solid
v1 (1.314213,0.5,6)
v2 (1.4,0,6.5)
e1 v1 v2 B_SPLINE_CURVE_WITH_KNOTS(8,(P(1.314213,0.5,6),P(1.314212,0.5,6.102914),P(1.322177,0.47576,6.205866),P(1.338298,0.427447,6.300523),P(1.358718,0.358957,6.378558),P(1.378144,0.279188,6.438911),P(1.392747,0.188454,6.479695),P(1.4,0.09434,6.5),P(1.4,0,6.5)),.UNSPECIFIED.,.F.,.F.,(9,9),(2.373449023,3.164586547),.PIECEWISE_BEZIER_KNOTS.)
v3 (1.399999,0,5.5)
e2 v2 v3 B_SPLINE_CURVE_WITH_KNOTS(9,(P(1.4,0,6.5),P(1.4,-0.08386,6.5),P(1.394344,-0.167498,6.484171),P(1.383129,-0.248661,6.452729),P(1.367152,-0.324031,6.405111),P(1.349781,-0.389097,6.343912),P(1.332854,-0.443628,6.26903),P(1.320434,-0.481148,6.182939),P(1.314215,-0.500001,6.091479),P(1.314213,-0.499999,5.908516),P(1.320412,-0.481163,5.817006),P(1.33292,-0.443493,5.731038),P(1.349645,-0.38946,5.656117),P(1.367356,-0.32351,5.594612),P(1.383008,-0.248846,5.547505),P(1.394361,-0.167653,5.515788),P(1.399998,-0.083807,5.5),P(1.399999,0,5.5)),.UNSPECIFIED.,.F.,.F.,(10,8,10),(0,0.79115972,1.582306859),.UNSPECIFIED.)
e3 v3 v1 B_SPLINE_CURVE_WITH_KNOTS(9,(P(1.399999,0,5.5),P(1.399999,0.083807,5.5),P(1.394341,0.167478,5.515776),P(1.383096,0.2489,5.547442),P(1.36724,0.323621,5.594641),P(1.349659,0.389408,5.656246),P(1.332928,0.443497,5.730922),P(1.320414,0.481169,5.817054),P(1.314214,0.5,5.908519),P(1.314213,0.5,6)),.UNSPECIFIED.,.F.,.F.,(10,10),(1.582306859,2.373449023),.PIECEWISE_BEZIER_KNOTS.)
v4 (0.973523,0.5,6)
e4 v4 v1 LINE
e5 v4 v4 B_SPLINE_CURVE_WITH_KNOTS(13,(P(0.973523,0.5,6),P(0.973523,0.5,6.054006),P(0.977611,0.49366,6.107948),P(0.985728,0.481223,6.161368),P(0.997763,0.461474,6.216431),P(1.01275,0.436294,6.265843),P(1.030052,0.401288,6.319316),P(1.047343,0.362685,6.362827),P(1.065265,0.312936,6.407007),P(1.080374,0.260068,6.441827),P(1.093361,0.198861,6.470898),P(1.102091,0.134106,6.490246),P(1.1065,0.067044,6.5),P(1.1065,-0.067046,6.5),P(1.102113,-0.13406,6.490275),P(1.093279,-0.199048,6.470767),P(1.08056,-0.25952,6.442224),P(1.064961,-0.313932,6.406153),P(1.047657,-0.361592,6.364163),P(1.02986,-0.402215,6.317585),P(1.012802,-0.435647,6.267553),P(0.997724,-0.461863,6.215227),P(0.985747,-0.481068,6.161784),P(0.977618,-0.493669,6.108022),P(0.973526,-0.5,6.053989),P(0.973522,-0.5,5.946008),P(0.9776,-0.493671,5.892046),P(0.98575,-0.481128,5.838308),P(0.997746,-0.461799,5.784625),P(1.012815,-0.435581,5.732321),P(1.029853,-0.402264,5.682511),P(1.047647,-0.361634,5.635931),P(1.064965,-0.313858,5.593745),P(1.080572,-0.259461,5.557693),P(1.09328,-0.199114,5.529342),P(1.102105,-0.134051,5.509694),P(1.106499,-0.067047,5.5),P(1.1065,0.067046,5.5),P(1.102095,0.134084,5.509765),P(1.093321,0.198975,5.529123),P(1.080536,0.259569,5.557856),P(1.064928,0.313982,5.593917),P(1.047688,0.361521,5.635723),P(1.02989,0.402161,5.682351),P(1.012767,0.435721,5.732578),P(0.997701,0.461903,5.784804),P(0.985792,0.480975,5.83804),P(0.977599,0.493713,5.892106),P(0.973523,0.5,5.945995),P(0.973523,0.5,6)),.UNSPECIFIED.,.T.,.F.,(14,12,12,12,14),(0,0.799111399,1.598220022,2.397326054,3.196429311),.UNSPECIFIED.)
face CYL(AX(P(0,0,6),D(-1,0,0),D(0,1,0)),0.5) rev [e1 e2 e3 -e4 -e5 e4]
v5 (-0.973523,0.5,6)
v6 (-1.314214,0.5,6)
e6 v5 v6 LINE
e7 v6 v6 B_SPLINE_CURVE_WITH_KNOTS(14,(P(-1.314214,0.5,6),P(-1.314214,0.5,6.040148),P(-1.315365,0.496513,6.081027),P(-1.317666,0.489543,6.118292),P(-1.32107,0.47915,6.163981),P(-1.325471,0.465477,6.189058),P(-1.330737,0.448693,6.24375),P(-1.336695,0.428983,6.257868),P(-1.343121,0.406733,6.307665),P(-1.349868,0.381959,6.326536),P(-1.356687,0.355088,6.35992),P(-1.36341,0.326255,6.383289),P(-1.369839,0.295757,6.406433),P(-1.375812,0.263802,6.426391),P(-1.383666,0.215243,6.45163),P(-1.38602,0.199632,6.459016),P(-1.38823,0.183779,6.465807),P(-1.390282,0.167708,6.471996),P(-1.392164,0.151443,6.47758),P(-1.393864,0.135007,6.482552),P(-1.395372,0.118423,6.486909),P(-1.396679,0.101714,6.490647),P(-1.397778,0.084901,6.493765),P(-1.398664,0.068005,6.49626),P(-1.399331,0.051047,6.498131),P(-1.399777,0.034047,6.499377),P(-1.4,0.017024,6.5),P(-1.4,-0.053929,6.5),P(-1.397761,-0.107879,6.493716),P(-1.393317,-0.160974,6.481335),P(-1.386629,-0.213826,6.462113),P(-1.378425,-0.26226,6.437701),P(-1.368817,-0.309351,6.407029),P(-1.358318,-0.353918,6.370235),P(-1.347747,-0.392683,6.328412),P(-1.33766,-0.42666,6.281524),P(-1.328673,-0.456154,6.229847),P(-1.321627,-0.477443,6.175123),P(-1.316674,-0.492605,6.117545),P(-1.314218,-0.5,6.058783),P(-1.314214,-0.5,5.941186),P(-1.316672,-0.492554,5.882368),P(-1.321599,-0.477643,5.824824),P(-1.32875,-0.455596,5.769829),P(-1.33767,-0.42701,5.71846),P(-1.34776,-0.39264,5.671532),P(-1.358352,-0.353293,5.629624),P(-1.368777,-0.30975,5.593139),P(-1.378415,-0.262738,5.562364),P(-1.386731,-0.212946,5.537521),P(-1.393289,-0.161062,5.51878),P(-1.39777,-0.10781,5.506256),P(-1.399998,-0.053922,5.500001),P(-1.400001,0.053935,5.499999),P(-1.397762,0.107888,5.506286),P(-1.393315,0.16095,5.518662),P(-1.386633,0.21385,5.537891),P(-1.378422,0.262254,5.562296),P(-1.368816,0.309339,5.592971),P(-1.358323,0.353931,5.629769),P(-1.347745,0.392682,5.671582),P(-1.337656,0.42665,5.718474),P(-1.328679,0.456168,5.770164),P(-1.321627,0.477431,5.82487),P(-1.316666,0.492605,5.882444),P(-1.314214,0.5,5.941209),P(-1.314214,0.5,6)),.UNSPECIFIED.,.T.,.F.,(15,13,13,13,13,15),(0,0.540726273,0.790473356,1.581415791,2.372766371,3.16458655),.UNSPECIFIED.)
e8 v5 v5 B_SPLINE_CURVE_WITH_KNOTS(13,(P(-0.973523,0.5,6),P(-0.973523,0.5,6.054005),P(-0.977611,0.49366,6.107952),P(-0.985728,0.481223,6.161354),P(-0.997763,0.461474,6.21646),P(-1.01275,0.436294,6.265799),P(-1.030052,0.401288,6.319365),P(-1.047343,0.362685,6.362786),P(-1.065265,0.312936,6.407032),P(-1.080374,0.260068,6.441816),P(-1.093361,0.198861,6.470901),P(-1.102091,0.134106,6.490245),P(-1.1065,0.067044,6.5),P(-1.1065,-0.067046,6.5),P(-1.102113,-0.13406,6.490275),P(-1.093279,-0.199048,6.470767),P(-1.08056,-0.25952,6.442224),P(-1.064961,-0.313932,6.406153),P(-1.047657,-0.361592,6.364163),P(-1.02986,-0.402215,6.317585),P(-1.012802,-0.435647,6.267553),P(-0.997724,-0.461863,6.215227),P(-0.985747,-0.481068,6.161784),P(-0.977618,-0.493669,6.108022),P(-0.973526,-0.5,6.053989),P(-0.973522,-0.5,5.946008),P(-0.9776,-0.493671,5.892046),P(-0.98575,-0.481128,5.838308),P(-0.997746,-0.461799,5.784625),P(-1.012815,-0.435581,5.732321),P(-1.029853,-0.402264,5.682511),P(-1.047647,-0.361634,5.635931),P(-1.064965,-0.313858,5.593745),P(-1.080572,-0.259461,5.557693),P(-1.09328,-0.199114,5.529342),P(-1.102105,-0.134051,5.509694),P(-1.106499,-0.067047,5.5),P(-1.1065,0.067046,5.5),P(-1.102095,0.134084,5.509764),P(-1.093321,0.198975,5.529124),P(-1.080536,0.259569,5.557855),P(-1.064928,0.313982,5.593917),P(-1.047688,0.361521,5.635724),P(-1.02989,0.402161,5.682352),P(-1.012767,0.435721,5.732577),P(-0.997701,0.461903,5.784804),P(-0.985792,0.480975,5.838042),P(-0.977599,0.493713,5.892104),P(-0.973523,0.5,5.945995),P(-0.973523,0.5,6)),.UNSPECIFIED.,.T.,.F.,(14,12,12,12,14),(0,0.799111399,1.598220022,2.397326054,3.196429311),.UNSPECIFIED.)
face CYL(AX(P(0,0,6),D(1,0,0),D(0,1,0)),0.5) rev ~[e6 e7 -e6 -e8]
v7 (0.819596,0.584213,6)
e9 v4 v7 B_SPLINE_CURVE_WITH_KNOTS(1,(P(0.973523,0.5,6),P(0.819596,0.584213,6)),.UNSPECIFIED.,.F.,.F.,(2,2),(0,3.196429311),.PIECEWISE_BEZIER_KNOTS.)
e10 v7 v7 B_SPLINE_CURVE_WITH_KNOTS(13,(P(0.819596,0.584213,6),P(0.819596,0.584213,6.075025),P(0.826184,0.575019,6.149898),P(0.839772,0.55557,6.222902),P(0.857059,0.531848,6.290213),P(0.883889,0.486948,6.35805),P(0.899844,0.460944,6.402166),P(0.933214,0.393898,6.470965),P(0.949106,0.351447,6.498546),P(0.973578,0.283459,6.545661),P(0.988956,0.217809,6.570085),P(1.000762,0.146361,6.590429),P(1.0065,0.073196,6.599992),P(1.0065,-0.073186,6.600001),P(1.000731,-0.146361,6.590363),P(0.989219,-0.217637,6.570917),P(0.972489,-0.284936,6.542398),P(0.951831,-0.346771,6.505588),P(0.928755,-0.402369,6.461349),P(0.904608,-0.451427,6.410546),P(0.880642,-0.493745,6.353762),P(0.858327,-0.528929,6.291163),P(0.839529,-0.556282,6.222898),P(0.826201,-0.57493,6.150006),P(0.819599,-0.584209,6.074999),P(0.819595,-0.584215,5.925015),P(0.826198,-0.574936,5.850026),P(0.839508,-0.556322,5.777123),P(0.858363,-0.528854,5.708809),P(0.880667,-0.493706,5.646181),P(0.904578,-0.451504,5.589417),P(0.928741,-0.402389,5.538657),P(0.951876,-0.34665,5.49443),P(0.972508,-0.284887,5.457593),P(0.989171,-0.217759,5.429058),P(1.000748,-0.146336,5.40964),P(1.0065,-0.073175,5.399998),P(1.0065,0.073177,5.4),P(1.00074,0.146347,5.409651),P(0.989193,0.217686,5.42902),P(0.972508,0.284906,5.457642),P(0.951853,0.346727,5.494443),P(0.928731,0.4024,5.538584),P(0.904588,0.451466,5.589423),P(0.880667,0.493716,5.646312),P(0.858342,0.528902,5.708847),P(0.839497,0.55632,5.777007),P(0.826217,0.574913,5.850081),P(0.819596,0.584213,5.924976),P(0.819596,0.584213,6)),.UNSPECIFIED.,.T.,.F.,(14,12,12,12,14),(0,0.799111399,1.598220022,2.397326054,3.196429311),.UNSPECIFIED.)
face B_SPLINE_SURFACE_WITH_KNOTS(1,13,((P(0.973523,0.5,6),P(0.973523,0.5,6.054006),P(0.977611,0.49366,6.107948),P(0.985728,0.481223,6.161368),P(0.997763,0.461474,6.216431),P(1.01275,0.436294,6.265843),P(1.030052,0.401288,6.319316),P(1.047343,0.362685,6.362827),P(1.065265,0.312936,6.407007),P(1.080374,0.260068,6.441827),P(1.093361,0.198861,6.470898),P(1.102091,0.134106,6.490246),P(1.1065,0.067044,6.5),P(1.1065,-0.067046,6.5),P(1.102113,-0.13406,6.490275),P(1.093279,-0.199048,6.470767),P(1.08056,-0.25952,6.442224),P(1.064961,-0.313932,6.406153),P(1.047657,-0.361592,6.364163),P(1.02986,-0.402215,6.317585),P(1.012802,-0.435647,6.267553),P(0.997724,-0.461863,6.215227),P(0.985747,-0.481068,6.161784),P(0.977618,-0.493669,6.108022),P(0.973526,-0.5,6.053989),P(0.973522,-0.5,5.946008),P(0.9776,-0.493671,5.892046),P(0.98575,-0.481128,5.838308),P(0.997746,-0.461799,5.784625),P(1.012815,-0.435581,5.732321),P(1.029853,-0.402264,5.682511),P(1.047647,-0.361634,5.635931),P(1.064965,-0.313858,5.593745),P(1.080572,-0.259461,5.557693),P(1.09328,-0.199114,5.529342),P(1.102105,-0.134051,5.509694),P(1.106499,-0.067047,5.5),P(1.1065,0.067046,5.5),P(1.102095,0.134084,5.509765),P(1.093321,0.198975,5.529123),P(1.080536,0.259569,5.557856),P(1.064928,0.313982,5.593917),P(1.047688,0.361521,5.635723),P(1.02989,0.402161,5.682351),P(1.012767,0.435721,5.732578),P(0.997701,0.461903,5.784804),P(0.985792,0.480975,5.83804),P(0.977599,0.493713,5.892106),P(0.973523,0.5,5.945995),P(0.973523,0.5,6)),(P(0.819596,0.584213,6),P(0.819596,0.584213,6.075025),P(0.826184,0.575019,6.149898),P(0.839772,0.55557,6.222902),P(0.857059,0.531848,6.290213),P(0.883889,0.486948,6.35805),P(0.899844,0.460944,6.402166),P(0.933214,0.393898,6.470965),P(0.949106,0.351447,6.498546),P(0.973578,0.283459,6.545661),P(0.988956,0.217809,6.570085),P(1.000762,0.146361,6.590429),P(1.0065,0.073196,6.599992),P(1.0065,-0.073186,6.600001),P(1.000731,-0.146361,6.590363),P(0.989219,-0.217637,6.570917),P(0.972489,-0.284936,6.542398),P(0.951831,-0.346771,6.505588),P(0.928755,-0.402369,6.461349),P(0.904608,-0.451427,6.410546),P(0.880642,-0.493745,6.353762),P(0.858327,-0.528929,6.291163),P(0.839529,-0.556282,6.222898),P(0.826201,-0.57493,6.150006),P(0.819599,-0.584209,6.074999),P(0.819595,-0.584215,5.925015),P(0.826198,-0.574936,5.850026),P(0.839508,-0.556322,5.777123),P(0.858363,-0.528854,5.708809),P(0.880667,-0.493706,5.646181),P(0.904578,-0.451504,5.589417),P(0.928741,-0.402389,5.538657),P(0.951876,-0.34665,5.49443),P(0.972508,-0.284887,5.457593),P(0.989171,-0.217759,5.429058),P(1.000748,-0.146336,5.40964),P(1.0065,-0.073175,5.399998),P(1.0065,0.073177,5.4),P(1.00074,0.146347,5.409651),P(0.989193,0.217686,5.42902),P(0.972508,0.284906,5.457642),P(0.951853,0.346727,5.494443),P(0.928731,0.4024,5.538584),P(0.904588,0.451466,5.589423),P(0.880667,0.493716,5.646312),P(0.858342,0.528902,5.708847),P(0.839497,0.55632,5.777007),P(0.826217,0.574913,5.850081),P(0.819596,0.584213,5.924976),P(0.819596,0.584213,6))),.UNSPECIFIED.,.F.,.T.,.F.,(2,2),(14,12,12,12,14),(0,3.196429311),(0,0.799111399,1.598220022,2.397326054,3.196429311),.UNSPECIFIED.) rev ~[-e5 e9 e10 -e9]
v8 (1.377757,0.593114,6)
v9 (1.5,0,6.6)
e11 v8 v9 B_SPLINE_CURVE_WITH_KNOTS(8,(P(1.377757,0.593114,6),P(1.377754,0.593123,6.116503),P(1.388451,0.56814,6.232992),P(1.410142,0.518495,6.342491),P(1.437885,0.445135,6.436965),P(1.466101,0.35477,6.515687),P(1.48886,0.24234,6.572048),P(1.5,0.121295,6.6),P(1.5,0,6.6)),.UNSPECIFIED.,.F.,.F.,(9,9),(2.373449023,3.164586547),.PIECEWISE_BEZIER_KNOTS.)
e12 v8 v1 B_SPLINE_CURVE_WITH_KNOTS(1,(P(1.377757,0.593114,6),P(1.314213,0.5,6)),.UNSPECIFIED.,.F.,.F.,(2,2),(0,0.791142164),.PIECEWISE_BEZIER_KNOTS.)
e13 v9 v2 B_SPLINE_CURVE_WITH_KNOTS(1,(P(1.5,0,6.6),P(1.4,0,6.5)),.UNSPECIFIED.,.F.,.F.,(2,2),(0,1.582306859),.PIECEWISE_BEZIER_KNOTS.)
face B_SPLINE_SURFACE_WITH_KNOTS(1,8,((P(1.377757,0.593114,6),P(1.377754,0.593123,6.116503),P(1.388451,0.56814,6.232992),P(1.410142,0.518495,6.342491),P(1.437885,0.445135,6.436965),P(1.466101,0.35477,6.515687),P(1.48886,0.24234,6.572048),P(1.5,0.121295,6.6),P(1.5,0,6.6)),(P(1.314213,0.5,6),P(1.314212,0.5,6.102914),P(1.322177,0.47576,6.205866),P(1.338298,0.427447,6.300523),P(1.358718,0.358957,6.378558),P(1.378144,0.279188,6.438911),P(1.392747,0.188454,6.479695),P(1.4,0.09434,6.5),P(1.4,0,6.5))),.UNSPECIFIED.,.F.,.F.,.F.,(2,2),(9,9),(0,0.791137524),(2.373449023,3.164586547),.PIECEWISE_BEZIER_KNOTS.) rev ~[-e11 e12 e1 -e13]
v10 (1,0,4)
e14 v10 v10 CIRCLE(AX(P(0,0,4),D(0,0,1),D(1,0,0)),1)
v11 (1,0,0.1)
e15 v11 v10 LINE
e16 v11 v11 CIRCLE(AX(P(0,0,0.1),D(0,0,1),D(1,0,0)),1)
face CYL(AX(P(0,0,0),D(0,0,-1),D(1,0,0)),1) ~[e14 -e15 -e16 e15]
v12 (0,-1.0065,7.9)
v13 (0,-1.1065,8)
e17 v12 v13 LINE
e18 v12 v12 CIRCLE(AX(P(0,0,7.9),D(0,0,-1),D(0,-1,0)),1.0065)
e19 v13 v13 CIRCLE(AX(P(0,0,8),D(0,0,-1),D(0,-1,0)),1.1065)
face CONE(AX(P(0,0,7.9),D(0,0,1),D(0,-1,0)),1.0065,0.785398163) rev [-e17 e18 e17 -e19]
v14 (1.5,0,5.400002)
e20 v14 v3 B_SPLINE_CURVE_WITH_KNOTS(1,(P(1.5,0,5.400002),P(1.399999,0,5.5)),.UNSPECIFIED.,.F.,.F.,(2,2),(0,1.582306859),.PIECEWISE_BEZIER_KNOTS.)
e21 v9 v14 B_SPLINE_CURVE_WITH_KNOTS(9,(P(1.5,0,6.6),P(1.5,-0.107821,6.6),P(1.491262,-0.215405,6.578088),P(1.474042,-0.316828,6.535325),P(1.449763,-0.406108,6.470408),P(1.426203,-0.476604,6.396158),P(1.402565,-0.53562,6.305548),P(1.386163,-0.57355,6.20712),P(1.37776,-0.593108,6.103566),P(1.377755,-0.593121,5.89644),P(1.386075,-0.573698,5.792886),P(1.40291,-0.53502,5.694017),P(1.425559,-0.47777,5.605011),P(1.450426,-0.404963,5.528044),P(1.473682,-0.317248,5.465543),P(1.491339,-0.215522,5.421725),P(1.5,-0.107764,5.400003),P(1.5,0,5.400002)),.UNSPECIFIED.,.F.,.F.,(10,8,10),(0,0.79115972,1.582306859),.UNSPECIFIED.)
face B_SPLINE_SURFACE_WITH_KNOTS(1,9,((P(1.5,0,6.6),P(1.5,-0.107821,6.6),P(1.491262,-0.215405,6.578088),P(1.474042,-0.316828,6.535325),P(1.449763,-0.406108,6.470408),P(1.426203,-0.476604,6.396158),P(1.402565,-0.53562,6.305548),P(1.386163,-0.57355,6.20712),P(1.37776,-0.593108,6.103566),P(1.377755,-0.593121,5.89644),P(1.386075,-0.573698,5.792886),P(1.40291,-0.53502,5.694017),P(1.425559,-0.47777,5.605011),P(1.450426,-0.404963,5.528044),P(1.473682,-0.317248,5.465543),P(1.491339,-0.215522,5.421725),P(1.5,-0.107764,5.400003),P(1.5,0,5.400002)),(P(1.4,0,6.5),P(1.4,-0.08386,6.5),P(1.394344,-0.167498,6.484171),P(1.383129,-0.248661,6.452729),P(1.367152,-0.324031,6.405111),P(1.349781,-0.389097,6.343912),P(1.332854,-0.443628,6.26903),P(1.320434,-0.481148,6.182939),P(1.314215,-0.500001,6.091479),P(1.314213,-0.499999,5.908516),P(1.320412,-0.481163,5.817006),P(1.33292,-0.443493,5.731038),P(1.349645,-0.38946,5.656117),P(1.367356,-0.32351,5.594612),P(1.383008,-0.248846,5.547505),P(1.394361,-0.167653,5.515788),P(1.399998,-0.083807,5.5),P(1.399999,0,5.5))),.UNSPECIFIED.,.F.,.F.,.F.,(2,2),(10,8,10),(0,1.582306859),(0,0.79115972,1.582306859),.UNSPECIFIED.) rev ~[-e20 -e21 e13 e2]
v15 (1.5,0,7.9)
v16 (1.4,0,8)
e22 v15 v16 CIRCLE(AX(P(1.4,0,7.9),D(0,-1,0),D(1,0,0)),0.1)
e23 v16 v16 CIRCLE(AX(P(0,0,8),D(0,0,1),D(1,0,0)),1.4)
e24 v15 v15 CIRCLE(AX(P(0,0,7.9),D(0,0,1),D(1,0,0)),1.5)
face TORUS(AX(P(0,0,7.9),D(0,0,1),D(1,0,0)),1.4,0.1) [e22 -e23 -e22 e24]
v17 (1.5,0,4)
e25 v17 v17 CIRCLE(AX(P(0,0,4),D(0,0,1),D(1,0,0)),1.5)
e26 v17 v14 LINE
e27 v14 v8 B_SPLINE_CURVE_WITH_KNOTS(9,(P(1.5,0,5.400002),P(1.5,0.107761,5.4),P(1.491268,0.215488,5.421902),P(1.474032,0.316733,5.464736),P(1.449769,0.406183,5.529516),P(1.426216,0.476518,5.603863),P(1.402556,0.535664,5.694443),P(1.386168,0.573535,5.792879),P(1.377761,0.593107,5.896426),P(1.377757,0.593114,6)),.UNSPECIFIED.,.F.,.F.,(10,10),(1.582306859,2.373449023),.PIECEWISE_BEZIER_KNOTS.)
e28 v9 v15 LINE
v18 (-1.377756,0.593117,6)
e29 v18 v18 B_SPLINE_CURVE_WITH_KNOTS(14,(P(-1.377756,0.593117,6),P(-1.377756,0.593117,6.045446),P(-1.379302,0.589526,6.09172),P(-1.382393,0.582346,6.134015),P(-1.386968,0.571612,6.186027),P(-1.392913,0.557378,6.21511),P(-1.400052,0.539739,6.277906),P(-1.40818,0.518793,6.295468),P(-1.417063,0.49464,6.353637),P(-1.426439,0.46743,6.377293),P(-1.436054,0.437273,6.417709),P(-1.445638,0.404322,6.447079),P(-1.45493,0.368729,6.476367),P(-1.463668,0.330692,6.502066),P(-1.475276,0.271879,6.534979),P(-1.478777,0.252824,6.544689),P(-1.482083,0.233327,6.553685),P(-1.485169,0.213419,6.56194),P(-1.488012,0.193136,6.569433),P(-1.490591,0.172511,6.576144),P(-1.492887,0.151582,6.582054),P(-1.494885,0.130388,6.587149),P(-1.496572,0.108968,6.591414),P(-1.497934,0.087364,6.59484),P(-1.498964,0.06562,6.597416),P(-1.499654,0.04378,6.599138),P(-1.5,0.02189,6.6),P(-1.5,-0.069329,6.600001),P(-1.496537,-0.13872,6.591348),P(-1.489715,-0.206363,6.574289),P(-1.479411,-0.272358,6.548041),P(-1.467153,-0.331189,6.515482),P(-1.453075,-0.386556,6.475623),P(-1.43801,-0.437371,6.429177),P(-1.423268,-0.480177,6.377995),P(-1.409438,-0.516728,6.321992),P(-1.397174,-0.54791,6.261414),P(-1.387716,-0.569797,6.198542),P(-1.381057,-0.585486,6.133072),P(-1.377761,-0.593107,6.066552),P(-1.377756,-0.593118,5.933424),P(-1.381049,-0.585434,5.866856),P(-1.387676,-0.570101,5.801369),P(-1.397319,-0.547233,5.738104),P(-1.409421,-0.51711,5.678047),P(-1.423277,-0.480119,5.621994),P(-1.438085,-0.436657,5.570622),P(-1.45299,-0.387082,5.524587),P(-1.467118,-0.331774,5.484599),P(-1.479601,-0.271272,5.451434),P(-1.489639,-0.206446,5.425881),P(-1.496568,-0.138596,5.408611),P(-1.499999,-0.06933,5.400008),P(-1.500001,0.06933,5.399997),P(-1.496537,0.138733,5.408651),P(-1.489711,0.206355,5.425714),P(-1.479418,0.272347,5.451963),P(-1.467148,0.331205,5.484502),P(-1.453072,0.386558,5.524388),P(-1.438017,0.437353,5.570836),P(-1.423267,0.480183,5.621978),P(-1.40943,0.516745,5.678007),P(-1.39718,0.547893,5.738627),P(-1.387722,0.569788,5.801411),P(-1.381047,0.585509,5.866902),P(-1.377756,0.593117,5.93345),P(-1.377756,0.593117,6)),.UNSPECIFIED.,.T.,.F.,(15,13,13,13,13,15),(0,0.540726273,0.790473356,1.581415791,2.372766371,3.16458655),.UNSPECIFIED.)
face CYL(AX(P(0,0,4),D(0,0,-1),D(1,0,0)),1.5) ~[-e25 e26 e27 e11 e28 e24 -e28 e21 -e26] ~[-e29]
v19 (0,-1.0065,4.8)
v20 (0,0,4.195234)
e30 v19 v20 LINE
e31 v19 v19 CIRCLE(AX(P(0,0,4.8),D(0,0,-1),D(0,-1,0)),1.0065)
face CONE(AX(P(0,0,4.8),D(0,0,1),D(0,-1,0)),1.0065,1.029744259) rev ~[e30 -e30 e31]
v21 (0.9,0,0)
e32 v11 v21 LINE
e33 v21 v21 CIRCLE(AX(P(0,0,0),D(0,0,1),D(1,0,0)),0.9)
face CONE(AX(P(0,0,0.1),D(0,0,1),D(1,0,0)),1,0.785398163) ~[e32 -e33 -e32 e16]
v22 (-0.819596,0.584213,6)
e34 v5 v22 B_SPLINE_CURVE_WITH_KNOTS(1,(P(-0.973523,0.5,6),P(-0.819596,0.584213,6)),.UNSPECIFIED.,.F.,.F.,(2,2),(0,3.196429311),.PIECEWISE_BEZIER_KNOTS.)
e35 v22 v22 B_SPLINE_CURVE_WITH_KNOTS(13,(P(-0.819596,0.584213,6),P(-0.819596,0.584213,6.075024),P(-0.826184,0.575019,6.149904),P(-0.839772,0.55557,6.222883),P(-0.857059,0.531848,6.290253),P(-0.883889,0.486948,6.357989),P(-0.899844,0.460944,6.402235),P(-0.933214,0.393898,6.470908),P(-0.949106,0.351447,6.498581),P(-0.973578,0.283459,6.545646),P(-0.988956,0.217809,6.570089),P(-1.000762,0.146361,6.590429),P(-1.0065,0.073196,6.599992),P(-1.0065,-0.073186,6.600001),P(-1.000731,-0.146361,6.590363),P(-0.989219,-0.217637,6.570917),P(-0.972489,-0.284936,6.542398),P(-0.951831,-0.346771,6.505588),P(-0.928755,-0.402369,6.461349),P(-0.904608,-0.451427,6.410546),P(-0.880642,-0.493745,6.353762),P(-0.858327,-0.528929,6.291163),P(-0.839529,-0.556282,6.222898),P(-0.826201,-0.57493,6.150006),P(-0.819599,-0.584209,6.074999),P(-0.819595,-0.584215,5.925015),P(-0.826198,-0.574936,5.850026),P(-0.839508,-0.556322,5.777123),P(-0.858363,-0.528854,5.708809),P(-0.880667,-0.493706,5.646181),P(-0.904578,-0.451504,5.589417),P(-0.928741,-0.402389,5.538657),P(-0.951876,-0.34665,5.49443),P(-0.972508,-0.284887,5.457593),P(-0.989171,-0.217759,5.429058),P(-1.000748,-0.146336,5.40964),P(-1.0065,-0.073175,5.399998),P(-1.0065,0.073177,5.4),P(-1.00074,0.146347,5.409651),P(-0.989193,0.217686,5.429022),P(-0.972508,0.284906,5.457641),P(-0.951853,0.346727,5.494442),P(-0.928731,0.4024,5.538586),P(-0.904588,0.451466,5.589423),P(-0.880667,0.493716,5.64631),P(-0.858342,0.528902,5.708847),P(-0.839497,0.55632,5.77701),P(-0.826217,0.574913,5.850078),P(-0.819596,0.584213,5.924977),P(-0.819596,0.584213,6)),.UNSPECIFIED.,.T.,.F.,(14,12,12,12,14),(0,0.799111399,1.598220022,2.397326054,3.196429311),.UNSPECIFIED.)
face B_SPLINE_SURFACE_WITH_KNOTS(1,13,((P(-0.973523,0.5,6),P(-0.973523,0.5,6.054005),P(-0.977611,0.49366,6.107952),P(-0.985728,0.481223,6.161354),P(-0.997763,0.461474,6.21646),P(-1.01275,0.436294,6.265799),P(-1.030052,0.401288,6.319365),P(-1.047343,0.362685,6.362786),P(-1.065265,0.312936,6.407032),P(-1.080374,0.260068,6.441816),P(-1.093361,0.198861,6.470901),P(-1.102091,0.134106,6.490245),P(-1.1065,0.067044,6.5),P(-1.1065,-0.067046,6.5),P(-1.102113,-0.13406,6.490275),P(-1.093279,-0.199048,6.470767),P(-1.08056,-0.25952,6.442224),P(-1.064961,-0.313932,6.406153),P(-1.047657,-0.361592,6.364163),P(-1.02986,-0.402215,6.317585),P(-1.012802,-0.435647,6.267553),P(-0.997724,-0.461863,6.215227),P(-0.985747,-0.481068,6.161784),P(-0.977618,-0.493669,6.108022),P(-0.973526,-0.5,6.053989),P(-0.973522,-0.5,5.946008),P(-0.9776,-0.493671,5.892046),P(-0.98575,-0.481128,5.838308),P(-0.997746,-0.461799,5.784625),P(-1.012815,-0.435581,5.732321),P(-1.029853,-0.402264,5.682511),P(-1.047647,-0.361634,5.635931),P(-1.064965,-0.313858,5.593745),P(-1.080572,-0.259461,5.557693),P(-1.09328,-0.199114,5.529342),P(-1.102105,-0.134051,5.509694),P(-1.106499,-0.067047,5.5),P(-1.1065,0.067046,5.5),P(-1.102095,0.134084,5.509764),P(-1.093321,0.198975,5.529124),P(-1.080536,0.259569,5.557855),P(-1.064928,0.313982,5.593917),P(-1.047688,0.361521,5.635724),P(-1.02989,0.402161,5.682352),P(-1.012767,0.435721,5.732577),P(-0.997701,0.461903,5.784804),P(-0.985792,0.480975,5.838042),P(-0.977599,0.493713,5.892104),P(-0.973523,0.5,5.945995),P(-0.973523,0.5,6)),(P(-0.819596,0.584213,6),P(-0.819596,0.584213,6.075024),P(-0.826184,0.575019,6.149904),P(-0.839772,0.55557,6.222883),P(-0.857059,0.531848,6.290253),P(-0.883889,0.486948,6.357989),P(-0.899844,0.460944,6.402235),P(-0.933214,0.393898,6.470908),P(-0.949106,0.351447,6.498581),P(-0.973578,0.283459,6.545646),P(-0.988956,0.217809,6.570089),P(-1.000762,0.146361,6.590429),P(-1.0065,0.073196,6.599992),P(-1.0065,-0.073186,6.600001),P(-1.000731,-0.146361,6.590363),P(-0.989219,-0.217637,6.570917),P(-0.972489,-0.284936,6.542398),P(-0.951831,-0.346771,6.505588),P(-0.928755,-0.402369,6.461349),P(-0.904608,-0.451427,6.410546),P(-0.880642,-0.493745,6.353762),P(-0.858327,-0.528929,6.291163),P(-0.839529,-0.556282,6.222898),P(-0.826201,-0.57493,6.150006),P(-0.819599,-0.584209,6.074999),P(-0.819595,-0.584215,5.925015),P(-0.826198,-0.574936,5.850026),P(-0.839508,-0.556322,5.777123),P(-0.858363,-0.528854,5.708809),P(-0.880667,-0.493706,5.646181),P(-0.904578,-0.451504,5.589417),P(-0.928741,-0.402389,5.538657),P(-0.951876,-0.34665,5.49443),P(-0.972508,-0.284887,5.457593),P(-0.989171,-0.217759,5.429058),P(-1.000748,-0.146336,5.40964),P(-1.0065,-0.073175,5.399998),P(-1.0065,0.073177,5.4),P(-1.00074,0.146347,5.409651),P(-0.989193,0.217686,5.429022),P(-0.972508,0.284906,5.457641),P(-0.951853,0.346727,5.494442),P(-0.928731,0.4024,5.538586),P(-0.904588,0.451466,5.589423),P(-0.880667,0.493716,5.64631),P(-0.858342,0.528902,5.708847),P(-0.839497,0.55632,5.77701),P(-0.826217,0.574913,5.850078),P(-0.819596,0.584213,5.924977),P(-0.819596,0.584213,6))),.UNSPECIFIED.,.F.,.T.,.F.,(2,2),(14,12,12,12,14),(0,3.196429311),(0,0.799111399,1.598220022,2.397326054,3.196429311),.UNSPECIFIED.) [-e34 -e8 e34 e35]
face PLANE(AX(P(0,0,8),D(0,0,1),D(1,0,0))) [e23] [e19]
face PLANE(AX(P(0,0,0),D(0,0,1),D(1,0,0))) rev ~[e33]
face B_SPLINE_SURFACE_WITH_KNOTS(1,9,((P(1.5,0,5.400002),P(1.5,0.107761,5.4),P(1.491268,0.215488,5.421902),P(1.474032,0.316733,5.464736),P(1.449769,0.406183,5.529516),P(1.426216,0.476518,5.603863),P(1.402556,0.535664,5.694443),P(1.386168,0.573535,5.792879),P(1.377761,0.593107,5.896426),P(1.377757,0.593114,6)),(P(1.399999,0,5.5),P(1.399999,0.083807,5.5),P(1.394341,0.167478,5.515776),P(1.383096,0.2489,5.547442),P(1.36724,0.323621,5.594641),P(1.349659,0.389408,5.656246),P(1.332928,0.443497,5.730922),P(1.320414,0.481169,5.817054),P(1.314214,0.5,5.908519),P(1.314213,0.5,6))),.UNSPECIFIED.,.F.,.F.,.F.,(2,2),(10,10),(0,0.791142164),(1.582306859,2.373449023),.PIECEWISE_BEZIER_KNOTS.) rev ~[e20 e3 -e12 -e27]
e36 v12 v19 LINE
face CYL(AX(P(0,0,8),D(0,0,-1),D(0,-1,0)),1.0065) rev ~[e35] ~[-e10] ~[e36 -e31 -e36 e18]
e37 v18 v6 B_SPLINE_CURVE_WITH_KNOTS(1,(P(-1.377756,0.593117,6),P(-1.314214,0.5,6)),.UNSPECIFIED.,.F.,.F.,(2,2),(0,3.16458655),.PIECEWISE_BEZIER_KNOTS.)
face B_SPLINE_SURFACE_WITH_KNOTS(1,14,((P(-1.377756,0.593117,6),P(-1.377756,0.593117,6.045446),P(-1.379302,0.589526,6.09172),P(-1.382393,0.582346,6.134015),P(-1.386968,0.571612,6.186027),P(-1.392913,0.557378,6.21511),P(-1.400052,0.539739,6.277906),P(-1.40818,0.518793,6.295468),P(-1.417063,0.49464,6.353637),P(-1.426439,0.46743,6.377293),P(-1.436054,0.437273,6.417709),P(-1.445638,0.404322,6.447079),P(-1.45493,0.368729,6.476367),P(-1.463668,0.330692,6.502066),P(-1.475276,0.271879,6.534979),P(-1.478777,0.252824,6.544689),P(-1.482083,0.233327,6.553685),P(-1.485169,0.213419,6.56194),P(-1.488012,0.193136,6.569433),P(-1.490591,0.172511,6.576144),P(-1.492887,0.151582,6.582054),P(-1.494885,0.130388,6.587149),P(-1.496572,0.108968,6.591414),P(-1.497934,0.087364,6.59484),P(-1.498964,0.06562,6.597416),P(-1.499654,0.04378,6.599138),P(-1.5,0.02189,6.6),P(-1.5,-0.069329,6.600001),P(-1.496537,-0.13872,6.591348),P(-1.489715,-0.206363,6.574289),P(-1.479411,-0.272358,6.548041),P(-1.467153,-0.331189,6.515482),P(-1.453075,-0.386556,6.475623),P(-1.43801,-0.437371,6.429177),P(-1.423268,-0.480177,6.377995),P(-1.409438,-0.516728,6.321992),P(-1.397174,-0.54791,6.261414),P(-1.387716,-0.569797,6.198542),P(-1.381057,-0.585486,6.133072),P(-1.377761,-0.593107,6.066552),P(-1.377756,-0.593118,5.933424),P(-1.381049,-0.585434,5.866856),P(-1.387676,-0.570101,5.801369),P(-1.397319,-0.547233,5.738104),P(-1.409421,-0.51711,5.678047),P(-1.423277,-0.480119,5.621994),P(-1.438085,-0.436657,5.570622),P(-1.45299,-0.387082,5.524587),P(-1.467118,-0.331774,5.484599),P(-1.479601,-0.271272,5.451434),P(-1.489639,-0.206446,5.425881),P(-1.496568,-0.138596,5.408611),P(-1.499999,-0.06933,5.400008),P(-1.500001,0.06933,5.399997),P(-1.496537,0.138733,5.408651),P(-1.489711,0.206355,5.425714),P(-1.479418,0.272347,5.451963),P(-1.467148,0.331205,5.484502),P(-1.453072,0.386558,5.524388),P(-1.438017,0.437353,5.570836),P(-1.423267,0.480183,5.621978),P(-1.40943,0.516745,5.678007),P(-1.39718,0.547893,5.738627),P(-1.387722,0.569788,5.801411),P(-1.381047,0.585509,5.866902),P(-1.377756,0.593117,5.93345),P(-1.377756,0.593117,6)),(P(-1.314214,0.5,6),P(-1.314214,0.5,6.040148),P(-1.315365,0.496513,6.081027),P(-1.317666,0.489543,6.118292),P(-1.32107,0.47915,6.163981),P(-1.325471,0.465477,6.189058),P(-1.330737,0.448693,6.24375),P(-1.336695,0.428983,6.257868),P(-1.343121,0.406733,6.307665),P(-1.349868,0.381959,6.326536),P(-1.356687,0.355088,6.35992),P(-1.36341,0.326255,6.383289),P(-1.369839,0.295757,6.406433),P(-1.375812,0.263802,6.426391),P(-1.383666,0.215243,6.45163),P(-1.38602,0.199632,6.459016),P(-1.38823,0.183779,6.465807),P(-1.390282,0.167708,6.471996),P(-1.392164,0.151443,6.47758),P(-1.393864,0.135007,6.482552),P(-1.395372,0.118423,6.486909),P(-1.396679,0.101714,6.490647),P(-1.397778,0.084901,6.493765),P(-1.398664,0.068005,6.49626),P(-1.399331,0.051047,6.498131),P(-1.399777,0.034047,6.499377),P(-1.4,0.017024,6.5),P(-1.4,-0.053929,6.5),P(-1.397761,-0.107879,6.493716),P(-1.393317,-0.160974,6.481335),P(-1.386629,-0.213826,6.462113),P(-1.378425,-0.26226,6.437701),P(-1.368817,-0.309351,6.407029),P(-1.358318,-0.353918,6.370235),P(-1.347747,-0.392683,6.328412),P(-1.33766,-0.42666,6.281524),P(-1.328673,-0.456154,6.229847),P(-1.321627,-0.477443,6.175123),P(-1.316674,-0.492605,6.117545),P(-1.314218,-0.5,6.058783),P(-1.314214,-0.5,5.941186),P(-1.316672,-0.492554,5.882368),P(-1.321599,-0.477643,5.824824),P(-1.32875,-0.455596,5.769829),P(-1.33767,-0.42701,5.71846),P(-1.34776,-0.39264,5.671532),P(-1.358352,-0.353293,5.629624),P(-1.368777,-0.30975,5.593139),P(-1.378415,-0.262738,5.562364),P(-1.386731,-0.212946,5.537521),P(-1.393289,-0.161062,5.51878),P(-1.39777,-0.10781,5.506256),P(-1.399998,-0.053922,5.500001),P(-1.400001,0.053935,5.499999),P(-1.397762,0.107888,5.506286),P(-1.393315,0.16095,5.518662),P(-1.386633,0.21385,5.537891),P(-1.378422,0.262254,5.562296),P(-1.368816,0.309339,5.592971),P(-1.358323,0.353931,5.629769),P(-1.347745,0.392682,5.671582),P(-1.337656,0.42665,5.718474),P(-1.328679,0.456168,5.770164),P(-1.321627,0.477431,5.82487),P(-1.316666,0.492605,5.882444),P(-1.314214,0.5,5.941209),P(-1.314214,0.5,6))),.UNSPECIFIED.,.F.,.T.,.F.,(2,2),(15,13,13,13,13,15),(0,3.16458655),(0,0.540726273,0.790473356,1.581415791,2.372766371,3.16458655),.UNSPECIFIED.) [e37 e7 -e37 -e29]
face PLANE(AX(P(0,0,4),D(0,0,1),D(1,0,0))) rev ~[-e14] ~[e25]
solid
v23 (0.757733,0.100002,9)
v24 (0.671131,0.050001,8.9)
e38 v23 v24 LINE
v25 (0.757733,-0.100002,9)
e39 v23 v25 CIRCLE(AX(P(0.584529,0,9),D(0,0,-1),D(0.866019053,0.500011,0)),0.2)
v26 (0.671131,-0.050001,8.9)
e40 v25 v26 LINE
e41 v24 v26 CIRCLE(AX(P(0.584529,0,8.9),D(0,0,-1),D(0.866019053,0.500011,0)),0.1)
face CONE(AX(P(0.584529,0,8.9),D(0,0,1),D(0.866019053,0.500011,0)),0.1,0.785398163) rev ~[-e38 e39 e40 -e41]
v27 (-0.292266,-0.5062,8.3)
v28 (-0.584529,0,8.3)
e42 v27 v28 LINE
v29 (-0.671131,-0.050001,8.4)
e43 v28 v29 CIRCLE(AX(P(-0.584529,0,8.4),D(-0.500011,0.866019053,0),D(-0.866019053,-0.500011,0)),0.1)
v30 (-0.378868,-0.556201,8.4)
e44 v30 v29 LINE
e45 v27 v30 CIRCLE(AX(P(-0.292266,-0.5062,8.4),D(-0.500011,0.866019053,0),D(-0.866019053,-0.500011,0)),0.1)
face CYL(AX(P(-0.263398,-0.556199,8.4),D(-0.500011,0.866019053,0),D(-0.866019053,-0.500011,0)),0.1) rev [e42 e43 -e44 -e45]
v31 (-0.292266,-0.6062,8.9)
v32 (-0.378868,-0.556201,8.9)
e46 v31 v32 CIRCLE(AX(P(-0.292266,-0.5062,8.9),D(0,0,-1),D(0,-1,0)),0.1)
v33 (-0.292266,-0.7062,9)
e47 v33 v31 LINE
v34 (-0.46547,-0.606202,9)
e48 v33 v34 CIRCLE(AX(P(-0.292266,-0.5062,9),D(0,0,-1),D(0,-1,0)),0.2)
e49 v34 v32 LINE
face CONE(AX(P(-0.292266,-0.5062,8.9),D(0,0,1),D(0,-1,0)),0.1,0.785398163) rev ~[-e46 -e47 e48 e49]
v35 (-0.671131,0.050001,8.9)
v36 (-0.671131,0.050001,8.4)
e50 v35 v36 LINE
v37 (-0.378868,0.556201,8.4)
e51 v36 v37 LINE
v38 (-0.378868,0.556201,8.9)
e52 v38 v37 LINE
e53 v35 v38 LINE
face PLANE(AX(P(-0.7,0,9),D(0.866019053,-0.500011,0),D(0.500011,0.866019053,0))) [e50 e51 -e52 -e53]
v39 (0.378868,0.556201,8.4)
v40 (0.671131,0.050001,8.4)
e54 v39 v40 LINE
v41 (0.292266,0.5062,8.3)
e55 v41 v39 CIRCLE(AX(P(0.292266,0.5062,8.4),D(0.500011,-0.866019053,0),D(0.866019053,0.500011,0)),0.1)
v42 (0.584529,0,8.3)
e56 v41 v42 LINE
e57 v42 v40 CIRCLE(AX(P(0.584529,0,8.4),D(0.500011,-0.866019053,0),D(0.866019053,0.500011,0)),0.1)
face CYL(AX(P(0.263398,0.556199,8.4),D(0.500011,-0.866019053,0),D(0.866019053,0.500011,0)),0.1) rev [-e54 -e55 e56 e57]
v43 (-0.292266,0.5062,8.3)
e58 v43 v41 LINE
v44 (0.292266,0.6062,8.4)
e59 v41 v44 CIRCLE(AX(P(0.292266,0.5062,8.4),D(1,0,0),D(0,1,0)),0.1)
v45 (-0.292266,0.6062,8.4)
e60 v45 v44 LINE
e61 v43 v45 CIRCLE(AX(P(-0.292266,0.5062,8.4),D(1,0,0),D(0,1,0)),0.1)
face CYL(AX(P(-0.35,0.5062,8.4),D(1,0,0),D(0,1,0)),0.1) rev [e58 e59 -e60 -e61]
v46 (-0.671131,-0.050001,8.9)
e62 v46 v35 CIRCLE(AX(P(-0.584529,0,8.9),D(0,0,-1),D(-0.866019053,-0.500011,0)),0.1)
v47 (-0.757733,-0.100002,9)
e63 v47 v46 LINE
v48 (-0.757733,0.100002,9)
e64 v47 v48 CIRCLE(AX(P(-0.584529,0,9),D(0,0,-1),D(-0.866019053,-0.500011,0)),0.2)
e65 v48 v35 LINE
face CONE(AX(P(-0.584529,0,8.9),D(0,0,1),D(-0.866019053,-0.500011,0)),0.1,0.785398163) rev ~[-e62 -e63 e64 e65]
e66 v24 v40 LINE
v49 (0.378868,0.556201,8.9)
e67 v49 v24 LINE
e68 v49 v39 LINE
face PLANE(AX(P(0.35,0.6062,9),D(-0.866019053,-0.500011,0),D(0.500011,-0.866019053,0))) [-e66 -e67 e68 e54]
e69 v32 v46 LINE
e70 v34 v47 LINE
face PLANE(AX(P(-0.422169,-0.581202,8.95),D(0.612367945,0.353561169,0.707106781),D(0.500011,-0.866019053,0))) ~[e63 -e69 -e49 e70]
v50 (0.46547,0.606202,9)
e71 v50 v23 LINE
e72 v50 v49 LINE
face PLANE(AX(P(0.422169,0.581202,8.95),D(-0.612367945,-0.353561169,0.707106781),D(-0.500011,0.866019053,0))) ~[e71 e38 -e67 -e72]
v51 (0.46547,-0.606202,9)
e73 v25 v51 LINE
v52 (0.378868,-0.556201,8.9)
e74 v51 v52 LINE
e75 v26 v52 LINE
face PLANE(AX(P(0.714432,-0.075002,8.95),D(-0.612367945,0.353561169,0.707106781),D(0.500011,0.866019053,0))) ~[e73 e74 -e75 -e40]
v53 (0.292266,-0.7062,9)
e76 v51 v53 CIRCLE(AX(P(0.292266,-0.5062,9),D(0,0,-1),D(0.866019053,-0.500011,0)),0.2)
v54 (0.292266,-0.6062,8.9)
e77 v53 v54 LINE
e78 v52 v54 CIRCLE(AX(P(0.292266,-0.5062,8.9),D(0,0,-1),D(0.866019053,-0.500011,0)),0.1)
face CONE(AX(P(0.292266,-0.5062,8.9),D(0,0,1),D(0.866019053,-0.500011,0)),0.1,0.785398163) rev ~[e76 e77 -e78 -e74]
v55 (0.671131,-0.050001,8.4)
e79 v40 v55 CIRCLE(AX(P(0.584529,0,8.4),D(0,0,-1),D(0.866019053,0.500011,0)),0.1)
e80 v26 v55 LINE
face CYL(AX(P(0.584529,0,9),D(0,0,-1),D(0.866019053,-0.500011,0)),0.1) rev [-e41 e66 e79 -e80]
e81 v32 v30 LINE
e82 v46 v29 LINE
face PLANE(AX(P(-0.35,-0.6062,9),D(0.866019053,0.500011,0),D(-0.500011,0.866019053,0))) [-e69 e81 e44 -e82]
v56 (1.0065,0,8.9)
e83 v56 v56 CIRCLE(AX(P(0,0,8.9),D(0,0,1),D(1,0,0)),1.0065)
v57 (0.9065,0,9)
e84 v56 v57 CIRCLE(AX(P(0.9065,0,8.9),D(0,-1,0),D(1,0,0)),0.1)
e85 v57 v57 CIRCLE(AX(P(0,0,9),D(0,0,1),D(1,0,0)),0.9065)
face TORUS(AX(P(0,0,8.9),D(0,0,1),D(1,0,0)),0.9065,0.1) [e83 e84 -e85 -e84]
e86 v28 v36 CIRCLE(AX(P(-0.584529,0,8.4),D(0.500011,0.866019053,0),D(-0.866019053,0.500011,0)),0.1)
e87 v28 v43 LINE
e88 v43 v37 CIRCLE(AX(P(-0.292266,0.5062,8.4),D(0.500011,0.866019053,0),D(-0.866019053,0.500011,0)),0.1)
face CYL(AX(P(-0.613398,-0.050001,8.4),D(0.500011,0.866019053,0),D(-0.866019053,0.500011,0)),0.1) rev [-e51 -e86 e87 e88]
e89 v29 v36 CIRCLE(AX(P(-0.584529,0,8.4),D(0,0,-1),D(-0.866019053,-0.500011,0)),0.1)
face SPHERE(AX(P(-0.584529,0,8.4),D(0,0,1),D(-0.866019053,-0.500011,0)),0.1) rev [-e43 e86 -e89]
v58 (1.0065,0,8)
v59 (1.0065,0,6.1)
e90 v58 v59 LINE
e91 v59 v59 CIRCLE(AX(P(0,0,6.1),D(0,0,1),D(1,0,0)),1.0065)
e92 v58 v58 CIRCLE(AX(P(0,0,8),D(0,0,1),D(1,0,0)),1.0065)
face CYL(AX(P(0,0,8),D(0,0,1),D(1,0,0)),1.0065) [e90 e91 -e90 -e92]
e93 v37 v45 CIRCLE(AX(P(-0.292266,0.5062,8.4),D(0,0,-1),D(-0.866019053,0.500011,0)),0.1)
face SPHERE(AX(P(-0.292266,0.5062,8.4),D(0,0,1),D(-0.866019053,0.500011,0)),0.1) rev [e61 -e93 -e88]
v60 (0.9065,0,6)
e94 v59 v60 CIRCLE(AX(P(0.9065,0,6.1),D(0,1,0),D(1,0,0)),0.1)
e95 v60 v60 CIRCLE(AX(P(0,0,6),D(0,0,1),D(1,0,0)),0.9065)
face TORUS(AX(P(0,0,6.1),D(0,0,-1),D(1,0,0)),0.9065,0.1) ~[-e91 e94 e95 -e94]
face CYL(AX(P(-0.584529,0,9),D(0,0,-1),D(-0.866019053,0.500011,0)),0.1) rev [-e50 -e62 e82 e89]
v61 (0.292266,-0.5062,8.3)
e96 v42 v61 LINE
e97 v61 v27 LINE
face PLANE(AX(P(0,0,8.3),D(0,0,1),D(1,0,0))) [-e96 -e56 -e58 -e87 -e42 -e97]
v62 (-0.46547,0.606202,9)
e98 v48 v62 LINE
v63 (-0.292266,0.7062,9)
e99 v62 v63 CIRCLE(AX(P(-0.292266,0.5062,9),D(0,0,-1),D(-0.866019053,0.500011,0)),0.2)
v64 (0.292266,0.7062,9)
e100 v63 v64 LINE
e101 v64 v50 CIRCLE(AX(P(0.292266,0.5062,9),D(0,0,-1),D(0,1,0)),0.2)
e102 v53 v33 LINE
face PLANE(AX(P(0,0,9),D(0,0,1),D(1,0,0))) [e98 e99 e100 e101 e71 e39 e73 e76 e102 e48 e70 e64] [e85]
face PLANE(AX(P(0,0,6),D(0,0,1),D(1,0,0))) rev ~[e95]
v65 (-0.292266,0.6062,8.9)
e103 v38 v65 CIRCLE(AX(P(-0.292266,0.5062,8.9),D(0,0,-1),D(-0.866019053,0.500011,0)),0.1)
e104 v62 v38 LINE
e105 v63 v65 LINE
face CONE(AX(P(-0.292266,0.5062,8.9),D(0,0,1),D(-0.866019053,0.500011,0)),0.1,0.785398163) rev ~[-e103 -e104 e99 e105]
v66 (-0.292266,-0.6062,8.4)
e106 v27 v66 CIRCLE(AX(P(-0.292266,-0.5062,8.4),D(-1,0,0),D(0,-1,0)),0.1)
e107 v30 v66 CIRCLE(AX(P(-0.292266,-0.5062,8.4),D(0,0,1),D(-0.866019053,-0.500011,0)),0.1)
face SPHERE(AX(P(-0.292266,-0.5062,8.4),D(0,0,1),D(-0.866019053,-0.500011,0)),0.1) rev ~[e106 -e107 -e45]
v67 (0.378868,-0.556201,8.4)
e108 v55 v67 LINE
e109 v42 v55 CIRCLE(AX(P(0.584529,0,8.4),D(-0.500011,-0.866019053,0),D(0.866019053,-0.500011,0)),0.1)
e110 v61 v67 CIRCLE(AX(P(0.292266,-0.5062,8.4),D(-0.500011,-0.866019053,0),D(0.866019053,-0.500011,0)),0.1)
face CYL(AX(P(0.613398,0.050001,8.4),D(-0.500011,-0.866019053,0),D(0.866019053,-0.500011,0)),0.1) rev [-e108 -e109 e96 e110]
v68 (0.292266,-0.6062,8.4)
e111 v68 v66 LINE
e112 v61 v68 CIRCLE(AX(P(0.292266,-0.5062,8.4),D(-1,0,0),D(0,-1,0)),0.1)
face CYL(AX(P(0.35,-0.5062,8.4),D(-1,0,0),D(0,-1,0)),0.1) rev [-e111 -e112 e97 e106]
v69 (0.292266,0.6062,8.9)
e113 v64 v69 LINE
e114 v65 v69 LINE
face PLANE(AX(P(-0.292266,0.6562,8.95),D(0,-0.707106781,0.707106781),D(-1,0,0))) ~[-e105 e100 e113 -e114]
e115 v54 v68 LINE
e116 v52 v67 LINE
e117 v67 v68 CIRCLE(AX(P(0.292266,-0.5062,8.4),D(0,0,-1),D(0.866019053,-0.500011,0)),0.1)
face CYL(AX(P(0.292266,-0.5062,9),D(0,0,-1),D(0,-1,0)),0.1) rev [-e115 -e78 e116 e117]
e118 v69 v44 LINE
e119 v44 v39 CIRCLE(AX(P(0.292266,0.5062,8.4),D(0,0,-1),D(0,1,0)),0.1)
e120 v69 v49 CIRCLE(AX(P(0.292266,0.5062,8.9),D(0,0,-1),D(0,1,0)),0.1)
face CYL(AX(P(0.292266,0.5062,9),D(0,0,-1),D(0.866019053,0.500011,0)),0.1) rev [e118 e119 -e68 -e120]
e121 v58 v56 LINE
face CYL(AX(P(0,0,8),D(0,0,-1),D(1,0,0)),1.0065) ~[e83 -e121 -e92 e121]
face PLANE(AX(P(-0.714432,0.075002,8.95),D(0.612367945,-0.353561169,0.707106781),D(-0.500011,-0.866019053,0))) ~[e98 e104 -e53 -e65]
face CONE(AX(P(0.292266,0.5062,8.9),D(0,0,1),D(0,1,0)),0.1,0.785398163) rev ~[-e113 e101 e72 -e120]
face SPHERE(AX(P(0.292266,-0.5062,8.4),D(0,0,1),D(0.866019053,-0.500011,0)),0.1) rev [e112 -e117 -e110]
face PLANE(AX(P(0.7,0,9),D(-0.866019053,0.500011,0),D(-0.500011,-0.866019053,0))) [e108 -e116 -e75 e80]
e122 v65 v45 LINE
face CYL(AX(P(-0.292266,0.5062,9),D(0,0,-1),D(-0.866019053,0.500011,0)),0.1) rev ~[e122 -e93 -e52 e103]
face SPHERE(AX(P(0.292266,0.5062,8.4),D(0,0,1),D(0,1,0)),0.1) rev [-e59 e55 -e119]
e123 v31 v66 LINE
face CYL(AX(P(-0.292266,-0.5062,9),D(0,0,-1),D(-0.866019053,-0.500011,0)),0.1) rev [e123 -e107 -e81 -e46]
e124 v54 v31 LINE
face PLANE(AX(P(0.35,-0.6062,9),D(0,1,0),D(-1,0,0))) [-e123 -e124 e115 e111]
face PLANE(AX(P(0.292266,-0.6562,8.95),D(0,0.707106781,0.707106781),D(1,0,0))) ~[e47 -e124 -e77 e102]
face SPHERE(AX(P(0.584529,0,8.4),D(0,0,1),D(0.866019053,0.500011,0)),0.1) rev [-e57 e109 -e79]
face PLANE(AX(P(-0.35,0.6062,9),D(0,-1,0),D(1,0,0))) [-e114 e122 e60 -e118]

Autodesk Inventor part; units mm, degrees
ref_plane "YZ Plane" through (0, 0, 0) normal (1, 0, 0) x (0, 1, 0)
ref_plane "XZ Plane" through (0, 0, 0) normal (0, 1, 0) x (-1, 0, 0)
ref_plane "XY Plane" through (0, 0, 0) normal (0, 0, 1) x (1, 0, 0)
sketch "Sketch1" plane through (0, 0, 0) normal (0, 0, 1) x (1, 0, 0)
  circle A0 centre (0, 0) radius 1
  dimension "d0" = 2
extrude "Extrusion1" add sketch "Sketch1" along normal blind 4
sketch "Sketch2" plane through (0, 0, 4) normal (0, 0, 1) x (1, 0, 0)
  circle A0 centre (0, 0) radius 1.5
  dimension "d3" = 3
extrude "Extrusion2" add sketch "Sketch2" along normal blind 4
fillet "Fillet1" radius 0.1 1 edges at (-1.5, 0, 8)
sketch "Sketch3" plane through (0, 0, 0) normal (1, 0, 0) x (0, 1, 0)
  circle A0 centre (0, 6) radius 0.5
  line L0 (1.5, 7.9) -> (-1.5, 7.9) projected
  point P0 (0, 0)
  point P1 (-1.5, 4.1)
  point P2 (1.5, 4.1)
  dimension "d12" = 1.9
  dimension "d14" = 1
extrude "Extrusion3" cut sketch "Sketch3" along normal through all both and the other way through all
sketch "Sketch4" plane through (0, 0, 8) normal (0, 0, 1) x (1, 0, 0)
  point P0 (0, 0)
  point P1 (0, 0)
hole "Hole1" at (0, 0, 8) direction (0, 0, -1) diameter 2.013 depth 3.2 tip angle 118 thread size "M2.5x0.45" class "6H" standard "ISO Metric profile"
chamfer "Chamfer2" distance 0.1 angle 45 8 edges at (-1, 0, 0) (1.4142, -0.5, 6) (1.4567, 0.3579, 6.3491) (1.4567, 0.3579, 5.6509) (-1.4142, -0.5, 6) (0.8735, -0.5, 6) (-0.8735, -0.5, 6) (0, 1.0065, 8)
sketch "Sketch5" plane through (0, 0, 8) normal (0, 0, 1) x (1, 0, 0)
  circle A0 centre (0, 0) radius 1.0065 projected
extrude "Extrusion4" add sketch "Sketch5" along normal blind 1 and the other way blind 2 separate body
thread "Thread3" size "M2.2x0.45" class "6g" standard "ANSI Metric M Profile" full length
sketch "Sketch6" plane through (0, 0, 9) normal (0, 0, 1) x (1, 0, 0)
  line L0 (-0.35, 0.6062) -> (0.35, 0.6062)
  line L1 (0.35, 0.6062) -> (0.7, 0)
  line L2 (0.7, 0) -> (0.35, -0.6062)
  line L3 (0.35, -0.6062) -> (-0.35, -0.6062)
  line L4 (-0.35, -0.6062) -> (-0.7, 0)
  line L5 (-0.7, 0) -> (-0.35, 0.6062)
  circle A0 centre (0, 0) radius 1.0065 projected
  point P0 (0, 0.6062)
  dimension "d36" = 120
  dimension "d37" = 120
  dimension "d38" = 0.7
extrude "Extrusion5" cut sketch "Sketch6" against normal blind 0.7 contours L0 L1 L2 L3 L4 L5 bodies 2
fillet "Fillet3" radius 0.1 14 edges at (0.35, 0.6062, 8.65) (-0.35, 0.6062, 8.65) (-0.7, 0, 8.65) (-0.35, -0.6062, 8.65) (0.35, -0.6062, 8.65) (0.7, 0, 8.65) (-1.0065, 0, 9) (-1.0065, 0, 6) (-0.525, -0.3031, 8.3) (-0.525, 0.3031, 8.3) (0, 0.6062, 8.3) (0.525, 0.3031, 8.3) (0.525, -0.3031, 8.3) (0, -0.6062, 8.3)
chamfer "Chamfer3" distance 0.1 angle 45 12 edges at (0, 0.6062, 9) (0.3423, 0.5928, 9) (0.525, 0.3031, 9) (0.6845, 0, 9) (0.525, -0.3031, 9) (0.3423, -0.5928, 9) (0, -0.6062, 9) (-0.3423, -0.5928, 9) (-0.525, -0.3031, 9) (-0.6845, 0, 9) (-0.525, 0.3031, 9) (-0.3423, 0.5928, 9)
thread "Thread4" size "M2x0.4" class "6g" standard "ANSI Metric M Profile" length 3
equation "\"d12\" = d13"
equation "\"d37\" = d36"
equation "\"d13\" = 1.9"
properties part number "C-04-0" material "Brass, Soft Yellow"
